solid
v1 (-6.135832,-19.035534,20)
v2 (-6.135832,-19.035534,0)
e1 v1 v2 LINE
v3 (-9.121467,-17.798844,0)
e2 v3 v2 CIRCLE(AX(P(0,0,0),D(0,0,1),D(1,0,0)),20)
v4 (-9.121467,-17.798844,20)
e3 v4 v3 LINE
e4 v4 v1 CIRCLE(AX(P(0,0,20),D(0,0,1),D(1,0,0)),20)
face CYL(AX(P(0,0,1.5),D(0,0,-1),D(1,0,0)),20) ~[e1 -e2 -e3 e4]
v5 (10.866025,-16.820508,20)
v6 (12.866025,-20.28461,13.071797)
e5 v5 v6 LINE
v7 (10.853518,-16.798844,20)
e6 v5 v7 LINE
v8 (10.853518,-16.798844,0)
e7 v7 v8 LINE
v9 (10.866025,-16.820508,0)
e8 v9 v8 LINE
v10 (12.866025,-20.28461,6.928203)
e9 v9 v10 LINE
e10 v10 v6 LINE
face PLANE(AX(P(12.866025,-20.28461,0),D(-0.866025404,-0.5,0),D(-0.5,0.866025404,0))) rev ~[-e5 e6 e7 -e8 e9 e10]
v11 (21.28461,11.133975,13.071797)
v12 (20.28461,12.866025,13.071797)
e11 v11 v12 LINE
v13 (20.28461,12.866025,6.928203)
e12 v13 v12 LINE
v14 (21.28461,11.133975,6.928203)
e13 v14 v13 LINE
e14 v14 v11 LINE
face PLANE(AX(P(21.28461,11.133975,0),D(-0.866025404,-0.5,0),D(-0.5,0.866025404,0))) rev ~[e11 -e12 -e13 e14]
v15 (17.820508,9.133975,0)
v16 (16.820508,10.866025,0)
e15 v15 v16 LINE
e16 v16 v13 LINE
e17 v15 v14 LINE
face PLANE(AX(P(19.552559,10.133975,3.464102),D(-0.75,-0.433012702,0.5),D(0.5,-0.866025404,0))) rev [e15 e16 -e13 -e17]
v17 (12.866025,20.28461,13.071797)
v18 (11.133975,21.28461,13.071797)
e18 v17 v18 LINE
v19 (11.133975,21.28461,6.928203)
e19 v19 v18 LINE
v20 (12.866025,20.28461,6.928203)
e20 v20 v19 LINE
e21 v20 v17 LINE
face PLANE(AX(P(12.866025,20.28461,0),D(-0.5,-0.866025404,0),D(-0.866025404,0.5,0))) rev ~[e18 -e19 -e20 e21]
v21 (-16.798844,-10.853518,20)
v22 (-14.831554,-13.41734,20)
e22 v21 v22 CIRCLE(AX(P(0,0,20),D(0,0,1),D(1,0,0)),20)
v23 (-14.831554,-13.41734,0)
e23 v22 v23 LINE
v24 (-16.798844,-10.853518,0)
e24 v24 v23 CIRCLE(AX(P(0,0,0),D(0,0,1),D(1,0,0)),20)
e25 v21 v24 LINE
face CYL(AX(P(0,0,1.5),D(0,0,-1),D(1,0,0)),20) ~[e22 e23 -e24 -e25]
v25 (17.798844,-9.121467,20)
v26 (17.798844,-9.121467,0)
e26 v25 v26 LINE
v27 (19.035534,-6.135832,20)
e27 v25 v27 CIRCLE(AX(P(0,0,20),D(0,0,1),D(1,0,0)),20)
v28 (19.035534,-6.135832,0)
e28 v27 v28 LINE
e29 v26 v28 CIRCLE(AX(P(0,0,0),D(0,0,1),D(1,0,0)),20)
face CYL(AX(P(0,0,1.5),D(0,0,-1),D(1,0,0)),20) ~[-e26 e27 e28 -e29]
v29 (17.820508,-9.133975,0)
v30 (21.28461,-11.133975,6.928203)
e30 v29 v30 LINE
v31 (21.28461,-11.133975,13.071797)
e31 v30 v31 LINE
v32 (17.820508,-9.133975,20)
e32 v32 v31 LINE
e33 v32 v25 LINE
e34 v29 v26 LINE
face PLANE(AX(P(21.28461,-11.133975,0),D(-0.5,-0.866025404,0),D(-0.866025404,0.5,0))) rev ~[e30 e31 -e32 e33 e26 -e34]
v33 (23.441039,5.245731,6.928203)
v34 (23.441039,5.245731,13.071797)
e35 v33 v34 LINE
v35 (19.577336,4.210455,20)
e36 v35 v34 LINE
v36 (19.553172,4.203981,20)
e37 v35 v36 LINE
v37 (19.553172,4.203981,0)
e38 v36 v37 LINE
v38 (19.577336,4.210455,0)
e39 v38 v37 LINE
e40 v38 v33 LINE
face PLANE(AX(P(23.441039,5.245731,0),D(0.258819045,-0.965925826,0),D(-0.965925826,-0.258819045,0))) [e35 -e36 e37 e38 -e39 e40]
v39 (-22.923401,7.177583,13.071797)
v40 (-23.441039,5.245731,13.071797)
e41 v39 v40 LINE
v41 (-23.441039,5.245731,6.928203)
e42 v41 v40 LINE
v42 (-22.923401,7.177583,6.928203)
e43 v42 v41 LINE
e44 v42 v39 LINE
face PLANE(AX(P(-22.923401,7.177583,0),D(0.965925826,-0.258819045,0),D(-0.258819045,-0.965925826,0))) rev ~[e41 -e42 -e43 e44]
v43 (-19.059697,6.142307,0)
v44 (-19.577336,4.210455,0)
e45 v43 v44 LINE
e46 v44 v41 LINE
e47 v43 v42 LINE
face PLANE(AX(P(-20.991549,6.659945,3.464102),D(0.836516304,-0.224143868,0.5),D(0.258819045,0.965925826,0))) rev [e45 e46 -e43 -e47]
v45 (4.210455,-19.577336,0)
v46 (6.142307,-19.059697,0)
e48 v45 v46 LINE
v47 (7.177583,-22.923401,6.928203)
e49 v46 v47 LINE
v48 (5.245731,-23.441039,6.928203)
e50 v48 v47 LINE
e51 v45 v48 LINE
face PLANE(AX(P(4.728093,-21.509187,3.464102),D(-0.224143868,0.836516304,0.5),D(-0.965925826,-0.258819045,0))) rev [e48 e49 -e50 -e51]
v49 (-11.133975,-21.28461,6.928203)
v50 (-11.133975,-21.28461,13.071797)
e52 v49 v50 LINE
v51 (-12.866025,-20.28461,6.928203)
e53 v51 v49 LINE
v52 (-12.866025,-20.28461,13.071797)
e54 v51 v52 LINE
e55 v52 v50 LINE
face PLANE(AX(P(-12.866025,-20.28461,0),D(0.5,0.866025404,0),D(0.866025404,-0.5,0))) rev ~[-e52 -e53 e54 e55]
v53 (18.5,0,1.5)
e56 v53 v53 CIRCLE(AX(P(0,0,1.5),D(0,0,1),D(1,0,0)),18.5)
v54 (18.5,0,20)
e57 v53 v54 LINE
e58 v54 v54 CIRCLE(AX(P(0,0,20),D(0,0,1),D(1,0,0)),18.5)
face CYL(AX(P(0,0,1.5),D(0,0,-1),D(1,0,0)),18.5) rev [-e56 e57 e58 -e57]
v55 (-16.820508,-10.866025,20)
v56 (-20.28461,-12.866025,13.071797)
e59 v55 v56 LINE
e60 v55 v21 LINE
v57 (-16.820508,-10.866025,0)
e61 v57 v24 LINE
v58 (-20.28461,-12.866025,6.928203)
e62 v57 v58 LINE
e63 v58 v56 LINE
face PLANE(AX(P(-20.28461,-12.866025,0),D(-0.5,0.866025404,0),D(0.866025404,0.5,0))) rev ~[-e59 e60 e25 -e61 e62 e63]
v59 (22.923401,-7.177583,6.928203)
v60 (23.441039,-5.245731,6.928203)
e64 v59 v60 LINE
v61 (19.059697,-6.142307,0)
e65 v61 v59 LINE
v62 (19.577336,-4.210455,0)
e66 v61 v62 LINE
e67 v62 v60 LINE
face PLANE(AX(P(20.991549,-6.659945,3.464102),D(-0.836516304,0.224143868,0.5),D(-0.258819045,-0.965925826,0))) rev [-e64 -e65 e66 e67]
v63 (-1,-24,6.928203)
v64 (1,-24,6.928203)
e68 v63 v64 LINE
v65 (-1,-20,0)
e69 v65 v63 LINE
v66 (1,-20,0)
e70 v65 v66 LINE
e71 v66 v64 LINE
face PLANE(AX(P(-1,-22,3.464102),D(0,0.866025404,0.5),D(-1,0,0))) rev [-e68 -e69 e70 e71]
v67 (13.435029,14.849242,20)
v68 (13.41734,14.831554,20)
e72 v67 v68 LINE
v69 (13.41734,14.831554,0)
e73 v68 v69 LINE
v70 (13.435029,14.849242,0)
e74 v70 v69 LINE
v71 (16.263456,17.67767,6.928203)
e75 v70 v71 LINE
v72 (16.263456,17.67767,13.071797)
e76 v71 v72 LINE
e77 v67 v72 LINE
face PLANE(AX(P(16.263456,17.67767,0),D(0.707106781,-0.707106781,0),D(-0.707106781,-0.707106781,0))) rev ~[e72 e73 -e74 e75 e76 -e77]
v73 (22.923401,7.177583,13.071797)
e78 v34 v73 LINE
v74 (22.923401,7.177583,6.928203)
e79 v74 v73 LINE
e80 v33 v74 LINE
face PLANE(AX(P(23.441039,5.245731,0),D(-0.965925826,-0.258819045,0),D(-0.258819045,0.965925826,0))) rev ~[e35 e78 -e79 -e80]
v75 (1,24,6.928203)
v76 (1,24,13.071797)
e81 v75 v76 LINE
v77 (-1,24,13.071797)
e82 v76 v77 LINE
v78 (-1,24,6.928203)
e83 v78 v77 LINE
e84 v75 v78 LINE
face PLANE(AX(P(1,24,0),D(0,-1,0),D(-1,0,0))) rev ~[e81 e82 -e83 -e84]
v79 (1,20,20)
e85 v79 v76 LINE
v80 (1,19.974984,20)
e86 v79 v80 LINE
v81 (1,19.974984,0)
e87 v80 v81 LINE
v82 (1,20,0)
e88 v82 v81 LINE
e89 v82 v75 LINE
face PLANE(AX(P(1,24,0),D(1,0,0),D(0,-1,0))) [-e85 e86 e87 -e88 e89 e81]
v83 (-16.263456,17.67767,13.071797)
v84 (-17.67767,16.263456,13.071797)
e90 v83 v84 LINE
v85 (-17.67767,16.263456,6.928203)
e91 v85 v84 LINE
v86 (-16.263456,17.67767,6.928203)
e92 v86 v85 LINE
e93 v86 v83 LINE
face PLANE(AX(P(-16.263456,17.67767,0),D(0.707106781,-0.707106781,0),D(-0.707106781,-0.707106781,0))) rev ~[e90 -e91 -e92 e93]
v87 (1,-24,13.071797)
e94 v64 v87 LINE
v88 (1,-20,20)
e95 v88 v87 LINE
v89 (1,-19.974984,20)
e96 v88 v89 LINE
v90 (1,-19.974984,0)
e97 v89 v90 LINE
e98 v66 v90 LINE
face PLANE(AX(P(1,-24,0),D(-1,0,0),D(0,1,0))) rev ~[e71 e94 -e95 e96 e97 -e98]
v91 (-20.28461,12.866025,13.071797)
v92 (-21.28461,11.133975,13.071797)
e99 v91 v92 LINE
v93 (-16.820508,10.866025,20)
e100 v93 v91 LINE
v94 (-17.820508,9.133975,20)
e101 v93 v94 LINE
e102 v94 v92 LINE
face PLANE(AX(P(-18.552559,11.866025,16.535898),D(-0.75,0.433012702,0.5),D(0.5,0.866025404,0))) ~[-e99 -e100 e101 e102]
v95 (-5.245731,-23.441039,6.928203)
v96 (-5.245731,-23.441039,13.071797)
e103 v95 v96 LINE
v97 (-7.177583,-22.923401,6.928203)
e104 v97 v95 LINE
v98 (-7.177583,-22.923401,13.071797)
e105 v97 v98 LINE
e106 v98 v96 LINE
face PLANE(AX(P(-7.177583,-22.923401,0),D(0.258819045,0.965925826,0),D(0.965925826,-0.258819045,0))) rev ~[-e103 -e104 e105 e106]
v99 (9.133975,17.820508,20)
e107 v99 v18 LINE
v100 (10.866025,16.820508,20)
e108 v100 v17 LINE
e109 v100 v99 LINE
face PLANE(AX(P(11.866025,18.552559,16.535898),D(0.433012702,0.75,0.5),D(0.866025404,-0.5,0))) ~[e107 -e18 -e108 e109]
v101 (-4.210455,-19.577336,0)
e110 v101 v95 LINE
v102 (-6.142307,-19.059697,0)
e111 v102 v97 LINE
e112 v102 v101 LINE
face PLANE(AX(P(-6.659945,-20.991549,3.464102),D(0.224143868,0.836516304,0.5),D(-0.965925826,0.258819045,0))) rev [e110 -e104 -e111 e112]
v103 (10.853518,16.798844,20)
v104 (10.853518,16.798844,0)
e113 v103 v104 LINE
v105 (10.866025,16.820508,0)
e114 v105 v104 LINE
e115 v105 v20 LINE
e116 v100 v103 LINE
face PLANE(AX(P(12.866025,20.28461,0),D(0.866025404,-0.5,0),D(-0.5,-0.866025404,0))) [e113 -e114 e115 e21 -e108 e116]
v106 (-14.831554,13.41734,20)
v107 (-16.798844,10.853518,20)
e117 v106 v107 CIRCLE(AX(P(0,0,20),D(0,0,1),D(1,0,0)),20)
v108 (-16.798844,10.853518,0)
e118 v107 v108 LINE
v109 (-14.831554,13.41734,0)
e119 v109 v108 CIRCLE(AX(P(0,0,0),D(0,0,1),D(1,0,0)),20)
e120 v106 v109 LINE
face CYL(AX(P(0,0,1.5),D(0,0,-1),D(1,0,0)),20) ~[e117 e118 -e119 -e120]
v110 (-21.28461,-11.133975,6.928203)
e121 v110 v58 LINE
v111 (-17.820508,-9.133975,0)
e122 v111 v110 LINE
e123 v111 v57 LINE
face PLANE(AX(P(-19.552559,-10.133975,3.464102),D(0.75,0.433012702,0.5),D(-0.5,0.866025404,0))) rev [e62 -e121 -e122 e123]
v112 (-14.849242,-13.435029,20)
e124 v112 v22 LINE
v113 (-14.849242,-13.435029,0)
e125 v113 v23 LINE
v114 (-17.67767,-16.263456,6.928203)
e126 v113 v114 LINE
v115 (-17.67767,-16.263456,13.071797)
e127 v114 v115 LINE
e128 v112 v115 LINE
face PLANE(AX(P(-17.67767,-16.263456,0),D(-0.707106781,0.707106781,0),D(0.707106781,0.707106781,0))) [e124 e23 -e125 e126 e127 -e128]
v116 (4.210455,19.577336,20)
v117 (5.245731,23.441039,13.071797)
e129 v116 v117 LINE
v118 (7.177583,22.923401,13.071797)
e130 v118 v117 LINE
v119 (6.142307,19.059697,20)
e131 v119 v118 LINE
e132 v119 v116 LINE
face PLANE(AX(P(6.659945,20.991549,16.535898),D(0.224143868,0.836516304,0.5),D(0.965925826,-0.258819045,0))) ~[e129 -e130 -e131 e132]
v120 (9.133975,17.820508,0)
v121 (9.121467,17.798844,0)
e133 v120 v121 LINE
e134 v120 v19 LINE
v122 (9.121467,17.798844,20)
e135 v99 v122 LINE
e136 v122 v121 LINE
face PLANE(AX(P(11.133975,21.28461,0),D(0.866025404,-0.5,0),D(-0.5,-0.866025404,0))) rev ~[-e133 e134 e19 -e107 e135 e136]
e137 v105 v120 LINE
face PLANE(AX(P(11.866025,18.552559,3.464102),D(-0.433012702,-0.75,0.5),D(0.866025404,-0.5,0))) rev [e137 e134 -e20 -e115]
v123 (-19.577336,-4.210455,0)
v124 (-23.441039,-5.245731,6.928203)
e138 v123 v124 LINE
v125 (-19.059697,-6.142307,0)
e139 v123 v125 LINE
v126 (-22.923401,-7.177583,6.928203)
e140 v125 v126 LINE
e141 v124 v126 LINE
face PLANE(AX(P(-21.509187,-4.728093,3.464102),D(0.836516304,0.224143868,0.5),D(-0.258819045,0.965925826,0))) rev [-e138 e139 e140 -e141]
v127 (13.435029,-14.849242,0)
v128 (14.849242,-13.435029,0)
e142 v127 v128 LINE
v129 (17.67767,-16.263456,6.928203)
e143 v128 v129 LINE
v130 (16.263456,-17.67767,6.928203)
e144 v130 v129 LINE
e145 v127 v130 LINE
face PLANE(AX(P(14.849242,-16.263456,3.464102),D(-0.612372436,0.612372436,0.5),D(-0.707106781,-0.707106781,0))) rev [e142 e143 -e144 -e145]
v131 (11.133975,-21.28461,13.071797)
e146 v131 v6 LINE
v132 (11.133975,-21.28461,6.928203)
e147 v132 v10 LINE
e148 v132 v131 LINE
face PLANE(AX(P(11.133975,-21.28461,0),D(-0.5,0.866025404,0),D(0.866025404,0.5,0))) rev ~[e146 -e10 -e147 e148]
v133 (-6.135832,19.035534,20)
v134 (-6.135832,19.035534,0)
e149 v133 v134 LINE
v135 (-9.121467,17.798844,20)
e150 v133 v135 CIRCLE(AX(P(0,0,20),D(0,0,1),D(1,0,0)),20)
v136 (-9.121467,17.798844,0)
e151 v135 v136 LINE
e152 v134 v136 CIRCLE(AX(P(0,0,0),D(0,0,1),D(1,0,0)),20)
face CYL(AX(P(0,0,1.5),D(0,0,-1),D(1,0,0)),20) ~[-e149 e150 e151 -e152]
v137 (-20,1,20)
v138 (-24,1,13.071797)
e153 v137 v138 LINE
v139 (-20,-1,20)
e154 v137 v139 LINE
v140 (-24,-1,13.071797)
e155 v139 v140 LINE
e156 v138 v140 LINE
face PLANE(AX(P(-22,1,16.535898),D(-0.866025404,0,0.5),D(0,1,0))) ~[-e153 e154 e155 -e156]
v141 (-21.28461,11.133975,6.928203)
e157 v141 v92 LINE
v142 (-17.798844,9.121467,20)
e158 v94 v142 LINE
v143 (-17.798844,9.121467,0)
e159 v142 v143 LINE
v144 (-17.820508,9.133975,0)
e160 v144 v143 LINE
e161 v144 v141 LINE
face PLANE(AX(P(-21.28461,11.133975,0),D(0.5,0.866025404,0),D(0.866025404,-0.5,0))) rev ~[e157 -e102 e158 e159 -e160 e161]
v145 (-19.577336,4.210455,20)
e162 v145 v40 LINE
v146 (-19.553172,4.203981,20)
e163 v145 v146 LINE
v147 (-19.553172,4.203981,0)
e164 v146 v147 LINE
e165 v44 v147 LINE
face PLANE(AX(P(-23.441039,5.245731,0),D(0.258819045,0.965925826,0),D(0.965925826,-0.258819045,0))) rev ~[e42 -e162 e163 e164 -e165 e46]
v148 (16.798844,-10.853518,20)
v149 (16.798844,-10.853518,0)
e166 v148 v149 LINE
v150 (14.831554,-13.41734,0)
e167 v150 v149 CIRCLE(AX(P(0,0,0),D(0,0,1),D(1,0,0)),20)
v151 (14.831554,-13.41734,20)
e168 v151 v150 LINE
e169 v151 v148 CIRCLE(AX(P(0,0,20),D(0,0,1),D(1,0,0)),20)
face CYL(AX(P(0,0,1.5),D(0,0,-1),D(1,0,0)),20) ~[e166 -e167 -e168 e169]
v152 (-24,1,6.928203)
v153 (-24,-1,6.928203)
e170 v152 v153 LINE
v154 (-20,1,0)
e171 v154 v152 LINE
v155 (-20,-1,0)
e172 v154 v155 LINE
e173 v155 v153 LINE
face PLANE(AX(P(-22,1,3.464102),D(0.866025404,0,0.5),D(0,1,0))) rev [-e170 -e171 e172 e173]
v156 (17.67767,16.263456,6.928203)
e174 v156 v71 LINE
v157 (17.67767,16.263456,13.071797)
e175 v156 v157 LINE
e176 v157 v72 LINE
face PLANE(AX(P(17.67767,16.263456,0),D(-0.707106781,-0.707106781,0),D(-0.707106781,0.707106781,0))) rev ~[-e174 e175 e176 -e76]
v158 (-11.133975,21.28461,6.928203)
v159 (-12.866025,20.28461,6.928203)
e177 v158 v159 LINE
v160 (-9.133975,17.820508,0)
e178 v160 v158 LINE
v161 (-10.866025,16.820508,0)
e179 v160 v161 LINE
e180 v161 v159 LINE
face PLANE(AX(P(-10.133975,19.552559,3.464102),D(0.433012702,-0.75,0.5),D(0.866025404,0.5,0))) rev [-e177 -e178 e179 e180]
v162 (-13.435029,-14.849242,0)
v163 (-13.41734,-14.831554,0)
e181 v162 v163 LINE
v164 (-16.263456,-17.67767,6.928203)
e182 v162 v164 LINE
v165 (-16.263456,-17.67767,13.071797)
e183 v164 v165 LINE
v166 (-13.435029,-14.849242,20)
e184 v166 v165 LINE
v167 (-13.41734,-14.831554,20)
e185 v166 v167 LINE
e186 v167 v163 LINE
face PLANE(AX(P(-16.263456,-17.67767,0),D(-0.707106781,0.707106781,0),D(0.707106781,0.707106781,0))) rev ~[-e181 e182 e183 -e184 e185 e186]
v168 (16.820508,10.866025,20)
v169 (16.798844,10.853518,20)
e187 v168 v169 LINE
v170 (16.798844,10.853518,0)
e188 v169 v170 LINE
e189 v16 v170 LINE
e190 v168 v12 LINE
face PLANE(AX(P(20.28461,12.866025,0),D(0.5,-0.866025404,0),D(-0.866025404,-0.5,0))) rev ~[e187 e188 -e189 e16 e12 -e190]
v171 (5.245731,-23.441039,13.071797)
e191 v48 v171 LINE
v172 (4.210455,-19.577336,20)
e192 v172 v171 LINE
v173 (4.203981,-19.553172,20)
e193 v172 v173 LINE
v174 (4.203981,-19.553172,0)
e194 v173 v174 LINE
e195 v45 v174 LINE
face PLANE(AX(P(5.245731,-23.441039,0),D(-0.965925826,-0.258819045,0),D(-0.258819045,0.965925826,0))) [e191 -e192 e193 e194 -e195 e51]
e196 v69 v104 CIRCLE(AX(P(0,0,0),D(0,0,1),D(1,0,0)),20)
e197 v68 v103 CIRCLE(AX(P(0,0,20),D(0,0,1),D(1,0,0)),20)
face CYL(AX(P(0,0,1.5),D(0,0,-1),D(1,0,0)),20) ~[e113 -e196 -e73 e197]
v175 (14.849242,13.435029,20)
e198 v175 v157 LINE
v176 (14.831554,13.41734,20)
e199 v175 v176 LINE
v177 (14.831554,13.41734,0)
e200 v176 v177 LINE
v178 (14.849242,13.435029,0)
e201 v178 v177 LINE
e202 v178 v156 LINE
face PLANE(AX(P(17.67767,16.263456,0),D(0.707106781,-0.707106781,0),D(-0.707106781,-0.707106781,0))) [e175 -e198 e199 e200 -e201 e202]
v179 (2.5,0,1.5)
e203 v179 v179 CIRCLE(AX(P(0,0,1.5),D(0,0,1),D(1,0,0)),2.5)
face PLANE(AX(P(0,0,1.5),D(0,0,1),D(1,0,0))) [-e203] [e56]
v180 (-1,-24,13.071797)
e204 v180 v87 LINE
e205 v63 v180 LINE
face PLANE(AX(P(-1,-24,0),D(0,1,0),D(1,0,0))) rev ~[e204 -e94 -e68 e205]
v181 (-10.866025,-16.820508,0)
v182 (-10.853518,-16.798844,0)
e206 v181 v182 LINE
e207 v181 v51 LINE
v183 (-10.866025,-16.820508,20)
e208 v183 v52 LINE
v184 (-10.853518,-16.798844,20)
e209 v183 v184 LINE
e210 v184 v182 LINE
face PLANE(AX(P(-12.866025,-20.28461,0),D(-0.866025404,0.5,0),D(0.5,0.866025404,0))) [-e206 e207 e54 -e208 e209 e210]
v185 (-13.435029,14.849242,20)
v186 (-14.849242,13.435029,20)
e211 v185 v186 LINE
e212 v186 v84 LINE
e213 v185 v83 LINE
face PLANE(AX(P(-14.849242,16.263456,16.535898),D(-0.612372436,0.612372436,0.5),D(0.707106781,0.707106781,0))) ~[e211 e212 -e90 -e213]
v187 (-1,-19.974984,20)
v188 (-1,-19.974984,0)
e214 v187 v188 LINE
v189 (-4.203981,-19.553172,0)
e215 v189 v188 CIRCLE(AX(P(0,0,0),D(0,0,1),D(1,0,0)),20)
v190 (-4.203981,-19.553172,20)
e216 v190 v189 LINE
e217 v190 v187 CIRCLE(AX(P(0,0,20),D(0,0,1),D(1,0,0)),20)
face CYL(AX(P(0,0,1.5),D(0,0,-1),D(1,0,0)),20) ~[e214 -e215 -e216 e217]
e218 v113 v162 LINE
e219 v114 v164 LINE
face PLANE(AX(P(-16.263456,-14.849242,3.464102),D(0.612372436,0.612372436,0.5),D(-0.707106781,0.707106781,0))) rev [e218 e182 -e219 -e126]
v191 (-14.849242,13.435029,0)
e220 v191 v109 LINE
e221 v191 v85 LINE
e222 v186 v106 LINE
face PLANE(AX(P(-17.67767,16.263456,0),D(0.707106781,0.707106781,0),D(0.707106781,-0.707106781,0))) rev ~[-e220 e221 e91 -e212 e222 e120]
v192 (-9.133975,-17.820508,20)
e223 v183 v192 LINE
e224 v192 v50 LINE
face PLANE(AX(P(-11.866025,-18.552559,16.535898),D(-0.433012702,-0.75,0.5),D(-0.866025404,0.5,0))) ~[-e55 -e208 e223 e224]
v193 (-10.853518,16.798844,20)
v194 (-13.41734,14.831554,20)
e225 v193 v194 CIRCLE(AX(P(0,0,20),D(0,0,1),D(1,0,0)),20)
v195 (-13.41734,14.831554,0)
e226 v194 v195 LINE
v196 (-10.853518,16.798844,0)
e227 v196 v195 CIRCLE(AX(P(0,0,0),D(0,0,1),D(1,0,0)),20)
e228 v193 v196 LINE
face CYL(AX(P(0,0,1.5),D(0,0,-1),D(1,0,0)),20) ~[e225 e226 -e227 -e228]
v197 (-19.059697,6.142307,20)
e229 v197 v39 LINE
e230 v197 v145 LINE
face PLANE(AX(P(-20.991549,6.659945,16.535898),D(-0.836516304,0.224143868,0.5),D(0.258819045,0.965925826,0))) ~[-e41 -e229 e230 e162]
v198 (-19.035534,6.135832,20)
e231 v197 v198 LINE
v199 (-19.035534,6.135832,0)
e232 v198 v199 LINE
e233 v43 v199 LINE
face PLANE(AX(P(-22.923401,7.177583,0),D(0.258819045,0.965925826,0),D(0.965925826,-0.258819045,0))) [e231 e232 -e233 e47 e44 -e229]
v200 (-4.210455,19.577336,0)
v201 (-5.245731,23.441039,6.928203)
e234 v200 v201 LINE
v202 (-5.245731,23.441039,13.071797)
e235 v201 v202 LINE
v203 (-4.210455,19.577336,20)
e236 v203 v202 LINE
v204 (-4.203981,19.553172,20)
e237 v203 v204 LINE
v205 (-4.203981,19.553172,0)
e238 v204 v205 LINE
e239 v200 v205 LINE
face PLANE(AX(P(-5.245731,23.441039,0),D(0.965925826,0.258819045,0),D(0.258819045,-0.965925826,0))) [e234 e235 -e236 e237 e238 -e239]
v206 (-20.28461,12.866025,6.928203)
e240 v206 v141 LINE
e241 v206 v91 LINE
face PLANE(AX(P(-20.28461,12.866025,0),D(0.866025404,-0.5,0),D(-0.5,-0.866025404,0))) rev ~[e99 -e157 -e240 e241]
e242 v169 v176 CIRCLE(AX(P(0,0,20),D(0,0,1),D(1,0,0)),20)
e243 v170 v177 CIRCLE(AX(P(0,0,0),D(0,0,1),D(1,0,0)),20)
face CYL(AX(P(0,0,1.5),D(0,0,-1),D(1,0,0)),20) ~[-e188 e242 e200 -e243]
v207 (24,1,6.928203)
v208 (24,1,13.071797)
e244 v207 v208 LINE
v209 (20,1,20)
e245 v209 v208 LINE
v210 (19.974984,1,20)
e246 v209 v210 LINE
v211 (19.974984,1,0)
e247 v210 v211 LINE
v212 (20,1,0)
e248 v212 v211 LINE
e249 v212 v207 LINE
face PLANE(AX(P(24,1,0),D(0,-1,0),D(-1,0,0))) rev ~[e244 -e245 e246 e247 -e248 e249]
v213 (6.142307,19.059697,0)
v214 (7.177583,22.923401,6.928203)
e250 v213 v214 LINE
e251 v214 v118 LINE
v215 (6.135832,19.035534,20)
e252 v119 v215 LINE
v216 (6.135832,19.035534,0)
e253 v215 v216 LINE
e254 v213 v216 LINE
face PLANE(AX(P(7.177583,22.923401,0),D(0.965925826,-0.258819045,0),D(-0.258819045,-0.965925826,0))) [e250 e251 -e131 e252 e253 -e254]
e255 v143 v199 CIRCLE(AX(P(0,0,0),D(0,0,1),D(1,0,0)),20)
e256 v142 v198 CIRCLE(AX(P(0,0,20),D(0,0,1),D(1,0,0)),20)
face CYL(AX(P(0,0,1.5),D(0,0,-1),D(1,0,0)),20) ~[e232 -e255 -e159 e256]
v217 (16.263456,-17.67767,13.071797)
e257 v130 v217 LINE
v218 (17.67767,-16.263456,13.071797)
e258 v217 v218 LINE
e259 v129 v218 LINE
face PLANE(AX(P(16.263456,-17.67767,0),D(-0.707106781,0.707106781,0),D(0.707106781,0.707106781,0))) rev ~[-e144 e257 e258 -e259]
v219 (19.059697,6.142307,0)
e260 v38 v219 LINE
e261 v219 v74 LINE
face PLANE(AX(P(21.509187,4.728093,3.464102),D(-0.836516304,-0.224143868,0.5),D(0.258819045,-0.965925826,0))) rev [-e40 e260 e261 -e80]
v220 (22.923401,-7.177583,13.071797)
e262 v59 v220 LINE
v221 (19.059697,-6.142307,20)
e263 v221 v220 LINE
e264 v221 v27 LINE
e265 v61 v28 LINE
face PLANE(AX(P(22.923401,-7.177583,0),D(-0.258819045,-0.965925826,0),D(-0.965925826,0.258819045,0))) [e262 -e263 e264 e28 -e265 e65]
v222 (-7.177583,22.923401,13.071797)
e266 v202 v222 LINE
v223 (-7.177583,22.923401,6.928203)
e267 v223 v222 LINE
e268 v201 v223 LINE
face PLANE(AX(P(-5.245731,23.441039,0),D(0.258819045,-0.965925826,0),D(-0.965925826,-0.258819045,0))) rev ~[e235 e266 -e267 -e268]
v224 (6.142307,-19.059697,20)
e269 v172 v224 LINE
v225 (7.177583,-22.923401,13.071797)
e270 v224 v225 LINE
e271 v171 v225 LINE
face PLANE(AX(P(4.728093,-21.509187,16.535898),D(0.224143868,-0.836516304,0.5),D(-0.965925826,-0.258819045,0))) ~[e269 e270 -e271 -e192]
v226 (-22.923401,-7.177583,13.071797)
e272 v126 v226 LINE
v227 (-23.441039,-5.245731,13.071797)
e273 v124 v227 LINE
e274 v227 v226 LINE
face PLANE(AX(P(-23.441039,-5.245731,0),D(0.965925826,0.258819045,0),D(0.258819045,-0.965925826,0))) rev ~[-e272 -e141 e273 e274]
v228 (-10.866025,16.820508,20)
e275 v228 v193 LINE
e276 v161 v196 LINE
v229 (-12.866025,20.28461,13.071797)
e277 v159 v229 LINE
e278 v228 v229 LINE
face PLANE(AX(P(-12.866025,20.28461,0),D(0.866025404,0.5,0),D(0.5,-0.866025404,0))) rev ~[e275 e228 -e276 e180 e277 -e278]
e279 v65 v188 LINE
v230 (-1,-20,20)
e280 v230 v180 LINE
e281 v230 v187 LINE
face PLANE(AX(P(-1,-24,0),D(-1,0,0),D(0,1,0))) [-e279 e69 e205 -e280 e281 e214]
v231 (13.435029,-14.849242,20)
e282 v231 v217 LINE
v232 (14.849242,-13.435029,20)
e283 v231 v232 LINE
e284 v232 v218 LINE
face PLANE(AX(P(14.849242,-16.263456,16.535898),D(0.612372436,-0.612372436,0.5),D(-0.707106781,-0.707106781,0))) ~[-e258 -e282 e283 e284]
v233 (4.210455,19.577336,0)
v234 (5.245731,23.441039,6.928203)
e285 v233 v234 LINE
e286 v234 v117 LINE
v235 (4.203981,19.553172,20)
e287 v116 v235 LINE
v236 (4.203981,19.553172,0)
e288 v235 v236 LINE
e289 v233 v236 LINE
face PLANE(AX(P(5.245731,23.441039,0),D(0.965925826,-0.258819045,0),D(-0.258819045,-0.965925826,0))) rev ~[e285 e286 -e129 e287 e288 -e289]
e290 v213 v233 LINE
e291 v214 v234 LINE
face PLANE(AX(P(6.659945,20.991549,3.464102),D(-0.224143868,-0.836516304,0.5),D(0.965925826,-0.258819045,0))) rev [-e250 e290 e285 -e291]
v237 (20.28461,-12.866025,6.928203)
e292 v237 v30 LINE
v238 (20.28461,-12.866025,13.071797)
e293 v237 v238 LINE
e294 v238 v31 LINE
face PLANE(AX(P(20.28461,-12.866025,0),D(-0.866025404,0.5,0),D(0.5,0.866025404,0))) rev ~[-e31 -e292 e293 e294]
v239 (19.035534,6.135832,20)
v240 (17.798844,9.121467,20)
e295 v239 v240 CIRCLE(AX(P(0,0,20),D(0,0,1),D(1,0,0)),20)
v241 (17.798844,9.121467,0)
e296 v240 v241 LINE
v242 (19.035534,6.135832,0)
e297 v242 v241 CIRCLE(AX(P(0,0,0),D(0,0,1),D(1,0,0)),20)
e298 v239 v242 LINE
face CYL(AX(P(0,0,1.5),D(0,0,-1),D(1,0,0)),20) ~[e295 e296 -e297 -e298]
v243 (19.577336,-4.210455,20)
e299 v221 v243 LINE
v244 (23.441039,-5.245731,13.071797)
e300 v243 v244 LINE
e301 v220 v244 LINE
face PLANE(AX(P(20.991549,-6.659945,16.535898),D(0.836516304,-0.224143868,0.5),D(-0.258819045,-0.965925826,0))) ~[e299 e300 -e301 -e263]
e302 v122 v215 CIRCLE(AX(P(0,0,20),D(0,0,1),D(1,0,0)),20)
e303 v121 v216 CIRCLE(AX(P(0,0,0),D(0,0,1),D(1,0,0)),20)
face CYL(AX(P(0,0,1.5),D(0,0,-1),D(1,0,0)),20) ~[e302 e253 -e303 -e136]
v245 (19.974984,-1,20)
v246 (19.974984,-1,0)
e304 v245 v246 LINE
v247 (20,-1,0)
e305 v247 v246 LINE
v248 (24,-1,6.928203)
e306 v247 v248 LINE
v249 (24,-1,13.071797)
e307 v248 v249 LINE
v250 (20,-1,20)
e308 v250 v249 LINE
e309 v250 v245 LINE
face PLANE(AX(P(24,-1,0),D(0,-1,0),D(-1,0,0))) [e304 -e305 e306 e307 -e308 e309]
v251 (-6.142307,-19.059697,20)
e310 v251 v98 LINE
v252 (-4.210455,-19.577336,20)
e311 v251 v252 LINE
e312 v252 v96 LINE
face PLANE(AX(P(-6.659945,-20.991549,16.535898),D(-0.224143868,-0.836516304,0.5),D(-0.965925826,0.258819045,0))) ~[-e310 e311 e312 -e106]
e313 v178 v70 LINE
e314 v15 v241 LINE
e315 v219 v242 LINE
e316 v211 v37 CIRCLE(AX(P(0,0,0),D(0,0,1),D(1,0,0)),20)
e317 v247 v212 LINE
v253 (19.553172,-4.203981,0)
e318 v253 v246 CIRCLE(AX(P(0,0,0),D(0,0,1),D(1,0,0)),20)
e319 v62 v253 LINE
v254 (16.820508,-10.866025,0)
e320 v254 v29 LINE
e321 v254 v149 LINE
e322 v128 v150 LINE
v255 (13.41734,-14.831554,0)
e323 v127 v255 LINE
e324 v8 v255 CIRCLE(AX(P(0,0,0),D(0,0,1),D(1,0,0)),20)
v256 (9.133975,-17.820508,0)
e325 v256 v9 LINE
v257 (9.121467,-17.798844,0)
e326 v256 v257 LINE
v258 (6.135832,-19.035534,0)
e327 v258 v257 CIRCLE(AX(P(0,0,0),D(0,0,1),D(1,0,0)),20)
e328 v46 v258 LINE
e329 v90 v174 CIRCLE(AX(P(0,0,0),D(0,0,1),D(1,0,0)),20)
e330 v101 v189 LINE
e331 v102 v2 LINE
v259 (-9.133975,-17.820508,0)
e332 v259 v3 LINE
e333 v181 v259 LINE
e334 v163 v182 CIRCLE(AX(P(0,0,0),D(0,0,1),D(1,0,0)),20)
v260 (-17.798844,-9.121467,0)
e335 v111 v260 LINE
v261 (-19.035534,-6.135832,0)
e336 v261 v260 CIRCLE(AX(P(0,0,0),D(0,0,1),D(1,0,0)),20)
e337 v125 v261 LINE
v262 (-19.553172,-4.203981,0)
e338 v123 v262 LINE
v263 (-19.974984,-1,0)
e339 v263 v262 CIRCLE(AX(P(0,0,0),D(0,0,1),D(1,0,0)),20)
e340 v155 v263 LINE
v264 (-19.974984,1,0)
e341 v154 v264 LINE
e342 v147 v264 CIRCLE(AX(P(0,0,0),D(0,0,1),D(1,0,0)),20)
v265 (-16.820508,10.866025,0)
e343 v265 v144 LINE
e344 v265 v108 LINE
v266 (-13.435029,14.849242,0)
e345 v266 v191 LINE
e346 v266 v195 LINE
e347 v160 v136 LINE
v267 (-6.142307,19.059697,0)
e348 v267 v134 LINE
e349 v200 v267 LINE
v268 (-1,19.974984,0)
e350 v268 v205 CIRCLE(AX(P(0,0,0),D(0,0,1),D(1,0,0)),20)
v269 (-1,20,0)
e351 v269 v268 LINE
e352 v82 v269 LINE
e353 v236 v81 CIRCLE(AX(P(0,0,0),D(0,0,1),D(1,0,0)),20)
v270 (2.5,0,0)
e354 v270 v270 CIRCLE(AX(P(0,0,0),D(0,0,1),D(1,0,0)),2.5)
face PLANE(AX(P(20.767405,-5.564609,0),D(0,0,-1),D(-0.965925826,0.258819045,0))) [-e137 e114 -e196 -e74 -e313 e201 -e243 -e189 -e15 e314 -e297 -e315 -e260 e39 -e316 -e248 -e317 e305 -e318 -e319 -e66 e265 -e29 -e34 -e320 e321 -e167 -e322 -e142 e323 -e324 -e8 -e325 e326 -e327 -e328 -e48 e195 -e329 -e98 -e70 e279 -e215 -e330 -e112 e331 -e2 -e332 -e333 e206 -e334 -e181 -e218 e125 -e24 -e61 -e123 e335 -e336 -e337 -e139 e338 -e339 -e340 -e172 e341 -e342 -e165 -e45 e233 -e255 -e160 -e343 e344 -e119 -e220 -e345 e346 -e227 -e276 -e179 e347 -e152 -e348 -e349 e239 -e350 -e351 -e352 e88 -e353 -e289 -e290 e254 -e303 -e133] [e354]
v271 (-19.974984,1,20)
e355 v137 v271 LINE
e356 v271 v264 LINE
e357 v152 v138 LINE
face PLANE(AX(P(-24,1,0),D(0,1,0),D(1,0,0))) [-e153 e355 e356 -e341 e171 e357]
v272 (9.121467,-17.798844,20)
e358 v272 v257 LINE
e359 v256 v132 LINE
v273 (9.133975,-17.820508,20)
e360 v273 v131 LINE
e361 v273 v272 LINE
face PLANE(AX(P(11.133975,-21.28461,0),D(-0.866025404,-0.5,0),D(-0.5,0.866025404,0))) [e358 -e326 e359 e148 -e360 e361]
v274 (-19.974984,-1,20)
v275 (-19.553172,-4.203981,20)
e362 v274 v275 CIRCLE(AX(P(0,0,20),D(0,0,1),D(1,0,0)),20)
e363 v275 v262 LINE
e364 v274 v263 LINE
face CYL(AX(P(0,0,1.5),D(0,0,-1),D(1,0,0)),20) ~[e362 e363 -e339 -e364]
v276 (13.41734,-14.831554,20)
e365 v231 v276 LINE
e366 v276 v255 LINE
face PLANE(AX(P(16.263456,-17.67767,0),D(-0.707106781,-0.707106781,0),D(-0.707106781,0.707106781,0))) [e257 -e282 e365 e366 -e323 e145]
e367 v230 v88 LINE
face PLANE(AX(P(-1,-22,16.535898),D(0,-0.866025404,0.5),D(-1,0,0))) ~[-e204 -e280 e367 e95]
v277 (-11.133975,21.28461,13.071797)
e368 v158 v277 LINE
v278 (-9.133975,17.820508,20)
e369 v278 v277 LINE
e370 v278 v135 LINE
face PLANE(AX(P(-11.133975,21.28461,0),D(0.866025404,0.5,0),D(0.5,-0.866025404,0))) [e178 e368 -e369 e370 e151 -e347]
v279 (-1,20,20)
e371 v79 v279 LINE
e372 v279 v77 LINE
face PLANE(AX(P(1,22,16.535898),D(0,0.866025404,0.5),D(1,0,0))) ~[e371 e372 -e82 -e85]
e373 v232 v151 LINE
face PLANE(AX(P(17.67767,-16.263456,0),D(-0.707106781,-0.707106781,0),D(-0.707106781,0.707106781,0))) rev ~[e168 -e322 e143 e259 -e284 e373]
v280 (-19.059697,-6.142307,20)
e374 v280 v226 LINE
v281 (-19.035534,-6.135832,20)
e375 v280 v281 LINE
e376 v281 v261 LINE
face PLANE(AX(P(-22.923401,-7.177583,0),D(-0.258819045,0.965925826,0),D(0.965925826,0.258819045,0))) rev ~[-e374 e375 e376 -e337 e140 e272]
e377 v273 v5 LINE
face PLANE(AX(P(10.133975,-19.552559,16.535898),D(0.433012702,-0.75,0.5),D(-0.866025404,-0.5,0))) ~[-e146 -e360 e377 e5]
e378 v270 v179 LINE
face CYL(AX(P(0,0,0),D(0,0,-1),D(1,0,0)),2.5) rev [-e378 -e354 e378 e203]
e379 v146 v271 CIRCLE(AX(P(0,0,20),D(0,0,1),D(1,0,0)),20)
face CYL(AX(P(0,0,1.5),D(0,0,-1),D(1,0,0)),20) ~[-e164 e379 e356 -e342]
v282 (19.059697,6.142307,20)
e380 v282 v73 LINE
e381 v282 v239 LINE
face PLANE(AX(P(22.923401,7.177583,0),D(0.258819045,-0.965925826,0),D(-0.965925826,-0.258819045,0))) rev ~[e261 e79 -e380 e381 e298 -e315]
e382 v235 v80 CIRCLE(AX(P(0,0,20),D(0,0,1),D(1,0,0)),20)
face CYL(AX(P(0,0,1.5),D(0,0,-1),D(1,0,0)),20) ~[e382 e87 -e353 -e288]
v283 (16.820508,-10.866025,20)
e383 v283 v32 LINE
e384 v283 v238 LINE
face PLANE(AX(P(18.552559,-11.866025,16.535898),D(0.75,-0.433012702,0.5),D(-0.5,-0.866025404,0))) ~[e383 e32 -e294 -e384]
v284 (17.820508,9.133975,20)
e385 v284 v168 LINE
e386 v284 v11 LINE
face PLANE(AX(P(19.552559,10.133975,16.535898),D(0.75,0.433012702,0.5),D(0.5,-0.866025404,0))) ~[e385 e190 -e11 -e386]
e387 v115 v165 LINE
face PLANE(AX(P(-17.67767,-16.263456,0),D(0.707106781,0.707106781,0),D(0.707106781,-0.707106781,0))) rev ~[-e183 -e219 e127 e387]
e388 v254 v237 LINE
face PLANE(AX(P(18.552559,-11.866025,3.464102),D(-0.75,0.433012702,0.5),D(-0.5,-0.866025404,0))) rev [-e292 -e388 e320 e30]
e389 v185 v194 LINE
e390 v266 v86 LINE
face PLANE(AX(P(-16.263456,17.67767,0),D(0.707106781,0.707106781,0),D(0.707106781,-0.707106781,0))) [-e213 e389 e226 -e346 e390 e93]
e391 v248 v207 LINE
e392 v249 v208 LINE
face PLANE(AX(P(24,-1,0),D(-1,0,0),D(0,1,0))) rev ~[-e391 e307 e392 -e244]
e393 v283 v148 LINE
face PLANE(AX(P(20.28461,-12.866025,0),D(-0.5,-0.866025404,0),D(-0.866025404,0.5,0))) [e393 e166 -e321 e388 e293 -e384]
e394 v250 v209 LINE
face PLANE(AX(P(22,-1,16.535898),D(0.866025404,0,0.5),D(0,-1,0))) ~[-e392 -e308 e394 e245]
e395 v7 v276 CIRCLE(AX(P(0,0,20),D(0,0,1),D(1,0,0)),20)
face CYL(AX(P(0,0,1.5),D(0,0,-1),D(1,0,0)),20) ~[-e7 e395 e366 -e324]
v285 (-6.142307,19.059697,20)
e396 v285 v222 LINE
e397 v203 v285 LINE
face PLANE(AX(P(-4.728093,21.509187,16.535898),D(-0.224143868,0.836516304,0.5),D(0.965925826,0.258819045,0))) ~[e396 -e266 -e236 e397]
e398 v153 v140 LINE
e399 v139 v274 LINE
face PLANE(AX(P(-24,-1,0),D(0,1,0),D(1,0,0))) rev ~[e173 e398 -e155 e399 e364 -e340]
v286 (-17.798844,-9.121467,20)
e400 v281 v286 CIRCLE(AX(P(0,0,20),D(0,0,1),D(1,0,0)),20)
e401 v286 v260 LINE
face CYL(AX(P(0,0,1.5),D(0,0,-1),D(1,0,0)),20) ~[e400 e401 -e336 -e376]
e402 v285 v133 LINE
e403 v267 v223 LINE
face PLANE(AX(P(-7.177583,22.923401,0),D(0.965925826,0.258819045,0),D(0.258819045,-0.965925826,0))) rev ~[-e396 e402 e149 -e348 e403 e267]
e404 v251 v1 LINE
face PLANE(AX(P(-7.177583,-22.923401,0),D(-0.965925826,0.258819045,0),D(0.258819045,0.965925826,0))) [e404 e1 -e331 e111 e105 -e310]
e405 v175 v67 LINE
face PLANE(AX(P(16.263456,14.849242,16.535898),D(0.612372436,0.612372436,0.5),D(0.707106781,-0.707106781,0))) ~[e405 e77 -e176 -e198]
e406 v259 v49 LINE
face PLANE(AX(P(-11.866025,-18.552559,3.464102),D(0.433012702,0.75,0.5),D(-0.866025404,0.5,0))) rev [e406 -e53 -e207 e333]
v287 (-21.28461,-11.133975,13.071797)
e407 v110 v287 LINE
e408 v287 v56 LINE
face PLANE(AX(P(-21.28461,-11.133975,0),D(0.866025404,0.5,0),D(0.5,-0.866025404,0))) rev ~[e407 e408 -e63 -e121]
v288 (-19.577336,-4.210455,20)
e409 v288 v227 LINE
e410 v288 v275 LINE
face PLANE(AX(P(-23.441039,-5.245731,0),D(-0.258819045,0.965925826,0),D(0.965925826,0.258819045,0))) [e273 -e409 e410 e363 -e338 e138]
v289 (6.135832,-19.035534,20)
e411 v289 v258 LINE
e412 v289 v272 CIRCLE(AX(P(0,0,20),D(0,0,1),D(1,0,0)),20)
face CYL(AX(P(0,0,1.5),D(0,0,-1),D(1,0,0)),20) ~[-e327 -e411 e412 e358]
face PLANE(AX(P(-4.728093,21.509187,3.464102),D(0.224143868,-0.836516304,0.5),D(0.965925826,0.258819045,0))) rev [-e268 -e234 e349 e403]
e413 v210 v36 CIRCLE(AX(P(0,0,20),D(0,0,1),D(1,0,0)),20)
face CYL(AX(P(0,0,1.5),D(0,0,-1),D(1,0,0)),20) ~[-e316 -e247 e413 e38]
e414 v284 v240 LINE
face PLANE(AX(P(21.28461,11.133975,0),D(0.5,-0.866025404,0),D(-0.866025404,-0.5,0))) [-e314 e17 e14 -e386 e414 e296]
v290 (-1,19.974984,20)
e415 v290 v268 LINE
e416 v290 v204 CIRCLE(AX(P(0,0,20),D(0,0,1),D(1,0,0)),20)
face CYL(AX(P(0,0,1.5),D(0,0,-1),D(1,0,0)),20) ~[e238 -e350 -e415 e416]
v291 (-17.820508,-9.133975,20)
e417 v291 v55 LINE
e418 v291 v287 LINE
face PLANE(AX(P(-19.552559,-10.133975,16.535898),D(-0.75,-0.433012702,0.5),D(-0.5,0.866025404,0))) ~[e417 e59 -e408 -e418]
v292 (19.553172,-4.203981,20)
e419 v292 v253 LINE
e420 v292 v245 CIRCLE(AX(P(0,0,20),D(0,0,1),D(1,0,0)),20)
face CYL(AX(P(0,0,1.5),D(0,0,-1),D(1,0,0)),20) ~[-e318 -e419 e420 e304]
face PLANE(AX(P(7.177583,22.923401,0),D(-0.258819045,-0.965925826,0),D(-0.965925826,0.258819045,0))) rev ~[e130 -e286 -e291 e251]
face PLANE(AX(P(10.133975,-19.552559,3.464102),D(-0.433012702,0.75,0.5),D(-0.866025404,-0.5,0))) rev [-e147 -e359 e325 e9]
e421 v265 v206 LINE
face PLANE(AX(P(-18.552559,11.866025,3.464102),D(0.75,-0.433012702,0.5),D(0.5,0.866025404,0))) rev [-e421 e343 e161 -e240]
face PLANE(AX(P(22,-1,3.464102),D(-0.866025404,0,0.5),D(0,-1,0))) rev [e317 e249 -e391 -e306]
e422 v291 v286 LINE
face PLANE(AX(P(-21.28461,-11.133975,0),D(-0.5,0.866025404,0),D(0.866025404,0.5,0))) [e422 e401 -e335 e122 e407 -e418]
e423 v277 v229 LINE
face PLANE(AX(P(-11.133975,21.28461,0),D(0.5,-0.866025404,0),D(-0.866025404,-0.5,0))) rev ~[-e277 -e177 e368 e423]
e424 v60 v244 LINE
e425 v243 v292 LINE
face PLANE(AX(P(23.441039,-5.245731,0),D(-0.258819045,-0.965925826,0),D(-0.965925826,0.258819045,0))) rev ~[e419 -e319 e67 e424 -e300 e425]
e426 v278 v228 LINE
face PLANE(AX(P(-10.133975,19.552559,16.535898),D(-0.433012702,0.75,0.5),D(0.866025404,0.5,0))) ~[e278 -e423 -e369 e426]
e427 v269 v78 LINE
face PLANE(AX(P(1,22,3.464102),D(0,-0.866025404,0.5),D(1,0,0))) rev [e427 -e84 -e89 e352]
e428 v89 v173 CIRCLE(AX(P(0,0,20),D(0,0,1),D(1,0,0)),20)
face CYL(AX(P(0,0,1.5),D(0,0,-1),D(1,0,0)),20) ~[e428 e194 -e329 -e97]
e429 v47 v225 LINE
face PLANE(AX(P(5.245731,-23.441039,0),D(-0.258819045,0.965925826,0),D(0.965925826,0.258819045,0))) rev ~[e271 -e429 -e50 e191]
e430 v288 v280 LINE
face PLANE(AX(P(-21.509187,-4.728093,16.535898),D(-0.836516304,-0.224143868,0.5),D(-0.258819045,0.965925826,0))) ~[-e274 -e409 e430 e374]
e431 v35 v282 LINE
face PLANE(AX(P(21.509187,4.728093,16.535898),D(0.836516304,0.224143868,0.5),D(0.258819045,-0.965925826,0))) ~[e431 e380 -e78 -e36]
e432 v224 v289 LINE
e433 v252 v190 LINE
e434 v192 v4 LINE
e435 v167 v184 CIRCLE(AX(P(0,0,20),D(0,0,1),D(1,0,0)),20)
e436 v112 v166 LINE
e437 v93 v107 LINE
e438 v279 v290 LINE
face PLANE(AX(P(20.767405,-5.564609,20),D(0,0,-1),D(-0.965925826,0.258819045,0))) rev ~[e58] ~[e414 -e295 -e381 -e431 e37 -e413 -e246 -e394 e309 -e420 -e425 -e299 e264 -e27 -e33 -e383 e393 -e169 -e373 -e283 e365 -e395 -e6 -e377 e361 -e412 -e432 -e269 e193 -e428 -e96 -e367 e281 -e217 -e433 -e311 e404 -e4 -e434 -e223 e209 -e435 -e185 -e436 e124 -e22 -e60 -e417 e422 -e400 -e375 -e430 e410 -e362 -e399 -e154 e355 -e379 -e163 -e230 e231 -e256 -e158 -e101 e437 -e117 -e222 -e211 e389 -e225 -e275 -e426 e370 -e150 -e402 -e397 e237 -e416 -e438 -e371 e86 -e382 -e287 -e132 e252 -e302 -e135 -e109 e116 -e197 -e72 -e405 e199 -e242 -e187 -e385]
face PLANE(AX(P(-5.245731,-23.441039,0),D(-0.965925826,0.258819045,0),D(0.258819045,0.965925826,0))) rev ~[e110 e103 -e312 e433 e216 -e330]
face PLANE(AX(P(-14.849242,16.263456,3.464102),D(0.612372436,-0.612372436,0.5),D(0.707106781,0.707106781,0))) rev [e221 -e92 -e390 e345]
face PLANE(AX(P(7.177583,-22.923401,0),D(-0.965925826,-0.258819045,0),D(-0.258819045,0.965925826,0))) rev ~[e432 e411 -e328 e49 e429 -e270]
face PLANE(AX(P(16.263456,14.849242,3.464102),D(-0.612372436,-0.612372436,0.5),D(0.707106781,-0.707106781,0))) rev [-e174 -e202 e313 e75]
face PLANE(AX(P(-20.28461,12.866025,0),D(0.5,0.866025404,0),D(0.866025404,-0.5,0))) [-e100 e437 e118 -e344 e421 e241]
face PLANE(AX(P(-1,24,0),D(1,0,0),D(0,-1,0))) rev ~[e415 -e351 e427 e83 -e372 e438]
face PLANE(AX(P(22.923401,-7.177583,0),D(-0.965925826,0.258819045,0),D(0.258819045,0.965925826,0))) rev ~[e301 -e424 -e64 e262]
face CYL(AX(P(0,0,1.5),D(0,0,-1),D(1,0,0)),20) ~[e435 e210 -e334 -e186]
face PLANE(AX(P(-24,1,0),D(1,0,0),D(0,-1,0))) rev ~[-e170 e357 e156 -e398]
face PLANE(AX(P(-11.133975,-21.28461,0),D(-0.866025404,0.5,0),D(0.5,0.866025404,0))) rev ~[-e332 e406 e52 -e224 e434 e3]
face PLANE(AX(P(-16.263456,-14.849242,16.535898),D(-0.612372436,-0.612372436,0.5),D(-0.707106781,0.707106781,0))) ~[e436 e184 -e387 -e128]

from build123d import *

# Parameters (mm, degrees)
SKETCH1_R           = 20
SKETCH1_R_2         = 2.5
BOSS_EXTRUDE1_DEPTH = 1.5
SKETCH2_R           = 20
SKETCH2_R_2         = 18.5
BOSS_EXTRUDE2_DEPTH = 18.5
SKETCH4_W           = 5
SKETCH4_H           = 2
BOSS_EXTRUDE3_DEPTH = 20
CIRPATTERN2_COUNT   = 24
CHAMFER4_SIZE       = 4
CHAMFER4_SIZE2      = 6.92820323
CHAMFER5_SIZE       = 4
CHAMFER5_SIZE2      = 6.92820323


with BuildPart() as part:
    # Sketch1 → Boss-Extrude1 (new body)
    with BuildSketch(Plane.XY):
        Circle(SKETCH1_R)
        Circle(SKETCH1_R_2, mode=Mode.SUBTRACT)
    extrude(amount=BOSS_EXTRUDE1_DEPTH)

    # Sketch2 → Boss-Extrude2 (add)
    with BuildSketch(Plane.XY.offset(1.5)):
        Circle(SKETCH2_R)
        Circle(SKETCH2_R_2, mode=Mode.SUBTRACT)
    extrude(amount=BOSS_EXTRUDE2_DEPTH)

    # Sketch4 → Boss-Extrude3 (add)
    with BuildSketch(Plane(origin=(0, 0, 0), x_dir=(-1, 0, 0), z_dir=(0, 0, -1))):
        with Locations((-21.5, 0)):
            Rectangle(SKETCH4_W, SKETCH4_H)
    boss_extrude3 = extrude(amount=-BOSS_EXTRUDE3_DEPTH)

    # CirPattern2: Boss-Extrude3 ×24 about axis
    cirpattern2_axis = Axis((0, 0, 0), (0, 0, 1))
    for i in range(1, CIRPATTERN2_COUNT):
        add(boss_extrude3.rotate(cirpattern2_axis, i * 360 / CIRPATTERN2_COUNT))

    # Chamfer4
    chamfer4_edges = [part.edges().sort_by_distance(p)[0] for p in [
        (6.211657082, -23.182219831, 20),
        (0, -24, 20),
        (-6.211657082, -23.182219831, 20),
        (-12, -20.784609691, 20),
        (-16.970562748, -16.970562748, 20),
        (-20.784609691, -12, 20),
        (24, 0, 20),
        (-23.182219831, -6.211657082, 20),
        (-24, 0, 20),
        (-23.182219831, 6.211657082, 20),
        (-20.784609691, 12, 20),
        (-16.970562748, 16.970562748, 20),
        (-12, 20.784609691, 20),
        (-6.211657082, 23.182219831, 20),
        (0, 24, 20),
        (6.211657082, 23.182219831, 20),
        (12, 20.784609691, 20),
        (16.970562748, 16.970562748, 20),
        (23.182219831, -6.211657082, 20),
        (20.784609691, 12, 20),
        (23.182219831, 6.211657082, 20),
        (20.784609691, -12, 20),
        (16.970562748, -16.970562748, 20),
        (12, -20.784609691, 20),
    ]]
    chamfer4_side = [part.faces().sort_by_distance(p)[0] for p in [
        (-21.987492178, -0.32117749, 20),
    ]]
    chamfer(chamfer4_edges, length=CHAMFER4_SIZE, length2=CHAMFER4_SIZE2, reference=chamfer4_side[0])

    # Chamfer5
    chamfer5_edges = [part.edges().sort_by_distance(p)[0] for p in [
        (6.211657082, -23.182219831, 0),
        (0, -24, 0),
        (-6.211657082, -23.182219831, 0),
        (-12, -20.784609691, 0),
        (-16.970562748, -16.970562748, 0),
        (24, 0, 0),
        (-20.784609691, -12, 0),
        (-23.182219831, -6.211657082, 0),
        (-24, 0, 0),
        (-23.182219831, 6.211657082, 0),
        (-20.784609691, 12, 0),
        (-16.970562748, 16.970562748, 0),
        (-12, 20.784609691, 0),
        (-6.211657082, 23.182219831, 0),
        (0, 24, 0),
        (6.211657082, 23.182219831, 0),
        (12, 20.784609691, 0),
        (23.182219831, -6.211657082, 0),
        (16.970562748, 16.970562748, 0),
        (20.784609691, 12, 0),
        (23.182219831, 6.211657082, 0),
        (20.784609691, -12, 0),
        (16.970562748, -16.970562748, 0),
        (12, -20.784609691, 0),
    ]]
    chamfer5_side = [part.faces().sort_by_distance(p)[0] for p in [
        (-21.987492178, -0.32117749, 0),
    ]]
    chamfer(chamfer5_edges, length=CHAMFER5_SIZE, length2=CHAMFER5_SIZE2, reference=chamfer5_side[0])


solid = part.part
